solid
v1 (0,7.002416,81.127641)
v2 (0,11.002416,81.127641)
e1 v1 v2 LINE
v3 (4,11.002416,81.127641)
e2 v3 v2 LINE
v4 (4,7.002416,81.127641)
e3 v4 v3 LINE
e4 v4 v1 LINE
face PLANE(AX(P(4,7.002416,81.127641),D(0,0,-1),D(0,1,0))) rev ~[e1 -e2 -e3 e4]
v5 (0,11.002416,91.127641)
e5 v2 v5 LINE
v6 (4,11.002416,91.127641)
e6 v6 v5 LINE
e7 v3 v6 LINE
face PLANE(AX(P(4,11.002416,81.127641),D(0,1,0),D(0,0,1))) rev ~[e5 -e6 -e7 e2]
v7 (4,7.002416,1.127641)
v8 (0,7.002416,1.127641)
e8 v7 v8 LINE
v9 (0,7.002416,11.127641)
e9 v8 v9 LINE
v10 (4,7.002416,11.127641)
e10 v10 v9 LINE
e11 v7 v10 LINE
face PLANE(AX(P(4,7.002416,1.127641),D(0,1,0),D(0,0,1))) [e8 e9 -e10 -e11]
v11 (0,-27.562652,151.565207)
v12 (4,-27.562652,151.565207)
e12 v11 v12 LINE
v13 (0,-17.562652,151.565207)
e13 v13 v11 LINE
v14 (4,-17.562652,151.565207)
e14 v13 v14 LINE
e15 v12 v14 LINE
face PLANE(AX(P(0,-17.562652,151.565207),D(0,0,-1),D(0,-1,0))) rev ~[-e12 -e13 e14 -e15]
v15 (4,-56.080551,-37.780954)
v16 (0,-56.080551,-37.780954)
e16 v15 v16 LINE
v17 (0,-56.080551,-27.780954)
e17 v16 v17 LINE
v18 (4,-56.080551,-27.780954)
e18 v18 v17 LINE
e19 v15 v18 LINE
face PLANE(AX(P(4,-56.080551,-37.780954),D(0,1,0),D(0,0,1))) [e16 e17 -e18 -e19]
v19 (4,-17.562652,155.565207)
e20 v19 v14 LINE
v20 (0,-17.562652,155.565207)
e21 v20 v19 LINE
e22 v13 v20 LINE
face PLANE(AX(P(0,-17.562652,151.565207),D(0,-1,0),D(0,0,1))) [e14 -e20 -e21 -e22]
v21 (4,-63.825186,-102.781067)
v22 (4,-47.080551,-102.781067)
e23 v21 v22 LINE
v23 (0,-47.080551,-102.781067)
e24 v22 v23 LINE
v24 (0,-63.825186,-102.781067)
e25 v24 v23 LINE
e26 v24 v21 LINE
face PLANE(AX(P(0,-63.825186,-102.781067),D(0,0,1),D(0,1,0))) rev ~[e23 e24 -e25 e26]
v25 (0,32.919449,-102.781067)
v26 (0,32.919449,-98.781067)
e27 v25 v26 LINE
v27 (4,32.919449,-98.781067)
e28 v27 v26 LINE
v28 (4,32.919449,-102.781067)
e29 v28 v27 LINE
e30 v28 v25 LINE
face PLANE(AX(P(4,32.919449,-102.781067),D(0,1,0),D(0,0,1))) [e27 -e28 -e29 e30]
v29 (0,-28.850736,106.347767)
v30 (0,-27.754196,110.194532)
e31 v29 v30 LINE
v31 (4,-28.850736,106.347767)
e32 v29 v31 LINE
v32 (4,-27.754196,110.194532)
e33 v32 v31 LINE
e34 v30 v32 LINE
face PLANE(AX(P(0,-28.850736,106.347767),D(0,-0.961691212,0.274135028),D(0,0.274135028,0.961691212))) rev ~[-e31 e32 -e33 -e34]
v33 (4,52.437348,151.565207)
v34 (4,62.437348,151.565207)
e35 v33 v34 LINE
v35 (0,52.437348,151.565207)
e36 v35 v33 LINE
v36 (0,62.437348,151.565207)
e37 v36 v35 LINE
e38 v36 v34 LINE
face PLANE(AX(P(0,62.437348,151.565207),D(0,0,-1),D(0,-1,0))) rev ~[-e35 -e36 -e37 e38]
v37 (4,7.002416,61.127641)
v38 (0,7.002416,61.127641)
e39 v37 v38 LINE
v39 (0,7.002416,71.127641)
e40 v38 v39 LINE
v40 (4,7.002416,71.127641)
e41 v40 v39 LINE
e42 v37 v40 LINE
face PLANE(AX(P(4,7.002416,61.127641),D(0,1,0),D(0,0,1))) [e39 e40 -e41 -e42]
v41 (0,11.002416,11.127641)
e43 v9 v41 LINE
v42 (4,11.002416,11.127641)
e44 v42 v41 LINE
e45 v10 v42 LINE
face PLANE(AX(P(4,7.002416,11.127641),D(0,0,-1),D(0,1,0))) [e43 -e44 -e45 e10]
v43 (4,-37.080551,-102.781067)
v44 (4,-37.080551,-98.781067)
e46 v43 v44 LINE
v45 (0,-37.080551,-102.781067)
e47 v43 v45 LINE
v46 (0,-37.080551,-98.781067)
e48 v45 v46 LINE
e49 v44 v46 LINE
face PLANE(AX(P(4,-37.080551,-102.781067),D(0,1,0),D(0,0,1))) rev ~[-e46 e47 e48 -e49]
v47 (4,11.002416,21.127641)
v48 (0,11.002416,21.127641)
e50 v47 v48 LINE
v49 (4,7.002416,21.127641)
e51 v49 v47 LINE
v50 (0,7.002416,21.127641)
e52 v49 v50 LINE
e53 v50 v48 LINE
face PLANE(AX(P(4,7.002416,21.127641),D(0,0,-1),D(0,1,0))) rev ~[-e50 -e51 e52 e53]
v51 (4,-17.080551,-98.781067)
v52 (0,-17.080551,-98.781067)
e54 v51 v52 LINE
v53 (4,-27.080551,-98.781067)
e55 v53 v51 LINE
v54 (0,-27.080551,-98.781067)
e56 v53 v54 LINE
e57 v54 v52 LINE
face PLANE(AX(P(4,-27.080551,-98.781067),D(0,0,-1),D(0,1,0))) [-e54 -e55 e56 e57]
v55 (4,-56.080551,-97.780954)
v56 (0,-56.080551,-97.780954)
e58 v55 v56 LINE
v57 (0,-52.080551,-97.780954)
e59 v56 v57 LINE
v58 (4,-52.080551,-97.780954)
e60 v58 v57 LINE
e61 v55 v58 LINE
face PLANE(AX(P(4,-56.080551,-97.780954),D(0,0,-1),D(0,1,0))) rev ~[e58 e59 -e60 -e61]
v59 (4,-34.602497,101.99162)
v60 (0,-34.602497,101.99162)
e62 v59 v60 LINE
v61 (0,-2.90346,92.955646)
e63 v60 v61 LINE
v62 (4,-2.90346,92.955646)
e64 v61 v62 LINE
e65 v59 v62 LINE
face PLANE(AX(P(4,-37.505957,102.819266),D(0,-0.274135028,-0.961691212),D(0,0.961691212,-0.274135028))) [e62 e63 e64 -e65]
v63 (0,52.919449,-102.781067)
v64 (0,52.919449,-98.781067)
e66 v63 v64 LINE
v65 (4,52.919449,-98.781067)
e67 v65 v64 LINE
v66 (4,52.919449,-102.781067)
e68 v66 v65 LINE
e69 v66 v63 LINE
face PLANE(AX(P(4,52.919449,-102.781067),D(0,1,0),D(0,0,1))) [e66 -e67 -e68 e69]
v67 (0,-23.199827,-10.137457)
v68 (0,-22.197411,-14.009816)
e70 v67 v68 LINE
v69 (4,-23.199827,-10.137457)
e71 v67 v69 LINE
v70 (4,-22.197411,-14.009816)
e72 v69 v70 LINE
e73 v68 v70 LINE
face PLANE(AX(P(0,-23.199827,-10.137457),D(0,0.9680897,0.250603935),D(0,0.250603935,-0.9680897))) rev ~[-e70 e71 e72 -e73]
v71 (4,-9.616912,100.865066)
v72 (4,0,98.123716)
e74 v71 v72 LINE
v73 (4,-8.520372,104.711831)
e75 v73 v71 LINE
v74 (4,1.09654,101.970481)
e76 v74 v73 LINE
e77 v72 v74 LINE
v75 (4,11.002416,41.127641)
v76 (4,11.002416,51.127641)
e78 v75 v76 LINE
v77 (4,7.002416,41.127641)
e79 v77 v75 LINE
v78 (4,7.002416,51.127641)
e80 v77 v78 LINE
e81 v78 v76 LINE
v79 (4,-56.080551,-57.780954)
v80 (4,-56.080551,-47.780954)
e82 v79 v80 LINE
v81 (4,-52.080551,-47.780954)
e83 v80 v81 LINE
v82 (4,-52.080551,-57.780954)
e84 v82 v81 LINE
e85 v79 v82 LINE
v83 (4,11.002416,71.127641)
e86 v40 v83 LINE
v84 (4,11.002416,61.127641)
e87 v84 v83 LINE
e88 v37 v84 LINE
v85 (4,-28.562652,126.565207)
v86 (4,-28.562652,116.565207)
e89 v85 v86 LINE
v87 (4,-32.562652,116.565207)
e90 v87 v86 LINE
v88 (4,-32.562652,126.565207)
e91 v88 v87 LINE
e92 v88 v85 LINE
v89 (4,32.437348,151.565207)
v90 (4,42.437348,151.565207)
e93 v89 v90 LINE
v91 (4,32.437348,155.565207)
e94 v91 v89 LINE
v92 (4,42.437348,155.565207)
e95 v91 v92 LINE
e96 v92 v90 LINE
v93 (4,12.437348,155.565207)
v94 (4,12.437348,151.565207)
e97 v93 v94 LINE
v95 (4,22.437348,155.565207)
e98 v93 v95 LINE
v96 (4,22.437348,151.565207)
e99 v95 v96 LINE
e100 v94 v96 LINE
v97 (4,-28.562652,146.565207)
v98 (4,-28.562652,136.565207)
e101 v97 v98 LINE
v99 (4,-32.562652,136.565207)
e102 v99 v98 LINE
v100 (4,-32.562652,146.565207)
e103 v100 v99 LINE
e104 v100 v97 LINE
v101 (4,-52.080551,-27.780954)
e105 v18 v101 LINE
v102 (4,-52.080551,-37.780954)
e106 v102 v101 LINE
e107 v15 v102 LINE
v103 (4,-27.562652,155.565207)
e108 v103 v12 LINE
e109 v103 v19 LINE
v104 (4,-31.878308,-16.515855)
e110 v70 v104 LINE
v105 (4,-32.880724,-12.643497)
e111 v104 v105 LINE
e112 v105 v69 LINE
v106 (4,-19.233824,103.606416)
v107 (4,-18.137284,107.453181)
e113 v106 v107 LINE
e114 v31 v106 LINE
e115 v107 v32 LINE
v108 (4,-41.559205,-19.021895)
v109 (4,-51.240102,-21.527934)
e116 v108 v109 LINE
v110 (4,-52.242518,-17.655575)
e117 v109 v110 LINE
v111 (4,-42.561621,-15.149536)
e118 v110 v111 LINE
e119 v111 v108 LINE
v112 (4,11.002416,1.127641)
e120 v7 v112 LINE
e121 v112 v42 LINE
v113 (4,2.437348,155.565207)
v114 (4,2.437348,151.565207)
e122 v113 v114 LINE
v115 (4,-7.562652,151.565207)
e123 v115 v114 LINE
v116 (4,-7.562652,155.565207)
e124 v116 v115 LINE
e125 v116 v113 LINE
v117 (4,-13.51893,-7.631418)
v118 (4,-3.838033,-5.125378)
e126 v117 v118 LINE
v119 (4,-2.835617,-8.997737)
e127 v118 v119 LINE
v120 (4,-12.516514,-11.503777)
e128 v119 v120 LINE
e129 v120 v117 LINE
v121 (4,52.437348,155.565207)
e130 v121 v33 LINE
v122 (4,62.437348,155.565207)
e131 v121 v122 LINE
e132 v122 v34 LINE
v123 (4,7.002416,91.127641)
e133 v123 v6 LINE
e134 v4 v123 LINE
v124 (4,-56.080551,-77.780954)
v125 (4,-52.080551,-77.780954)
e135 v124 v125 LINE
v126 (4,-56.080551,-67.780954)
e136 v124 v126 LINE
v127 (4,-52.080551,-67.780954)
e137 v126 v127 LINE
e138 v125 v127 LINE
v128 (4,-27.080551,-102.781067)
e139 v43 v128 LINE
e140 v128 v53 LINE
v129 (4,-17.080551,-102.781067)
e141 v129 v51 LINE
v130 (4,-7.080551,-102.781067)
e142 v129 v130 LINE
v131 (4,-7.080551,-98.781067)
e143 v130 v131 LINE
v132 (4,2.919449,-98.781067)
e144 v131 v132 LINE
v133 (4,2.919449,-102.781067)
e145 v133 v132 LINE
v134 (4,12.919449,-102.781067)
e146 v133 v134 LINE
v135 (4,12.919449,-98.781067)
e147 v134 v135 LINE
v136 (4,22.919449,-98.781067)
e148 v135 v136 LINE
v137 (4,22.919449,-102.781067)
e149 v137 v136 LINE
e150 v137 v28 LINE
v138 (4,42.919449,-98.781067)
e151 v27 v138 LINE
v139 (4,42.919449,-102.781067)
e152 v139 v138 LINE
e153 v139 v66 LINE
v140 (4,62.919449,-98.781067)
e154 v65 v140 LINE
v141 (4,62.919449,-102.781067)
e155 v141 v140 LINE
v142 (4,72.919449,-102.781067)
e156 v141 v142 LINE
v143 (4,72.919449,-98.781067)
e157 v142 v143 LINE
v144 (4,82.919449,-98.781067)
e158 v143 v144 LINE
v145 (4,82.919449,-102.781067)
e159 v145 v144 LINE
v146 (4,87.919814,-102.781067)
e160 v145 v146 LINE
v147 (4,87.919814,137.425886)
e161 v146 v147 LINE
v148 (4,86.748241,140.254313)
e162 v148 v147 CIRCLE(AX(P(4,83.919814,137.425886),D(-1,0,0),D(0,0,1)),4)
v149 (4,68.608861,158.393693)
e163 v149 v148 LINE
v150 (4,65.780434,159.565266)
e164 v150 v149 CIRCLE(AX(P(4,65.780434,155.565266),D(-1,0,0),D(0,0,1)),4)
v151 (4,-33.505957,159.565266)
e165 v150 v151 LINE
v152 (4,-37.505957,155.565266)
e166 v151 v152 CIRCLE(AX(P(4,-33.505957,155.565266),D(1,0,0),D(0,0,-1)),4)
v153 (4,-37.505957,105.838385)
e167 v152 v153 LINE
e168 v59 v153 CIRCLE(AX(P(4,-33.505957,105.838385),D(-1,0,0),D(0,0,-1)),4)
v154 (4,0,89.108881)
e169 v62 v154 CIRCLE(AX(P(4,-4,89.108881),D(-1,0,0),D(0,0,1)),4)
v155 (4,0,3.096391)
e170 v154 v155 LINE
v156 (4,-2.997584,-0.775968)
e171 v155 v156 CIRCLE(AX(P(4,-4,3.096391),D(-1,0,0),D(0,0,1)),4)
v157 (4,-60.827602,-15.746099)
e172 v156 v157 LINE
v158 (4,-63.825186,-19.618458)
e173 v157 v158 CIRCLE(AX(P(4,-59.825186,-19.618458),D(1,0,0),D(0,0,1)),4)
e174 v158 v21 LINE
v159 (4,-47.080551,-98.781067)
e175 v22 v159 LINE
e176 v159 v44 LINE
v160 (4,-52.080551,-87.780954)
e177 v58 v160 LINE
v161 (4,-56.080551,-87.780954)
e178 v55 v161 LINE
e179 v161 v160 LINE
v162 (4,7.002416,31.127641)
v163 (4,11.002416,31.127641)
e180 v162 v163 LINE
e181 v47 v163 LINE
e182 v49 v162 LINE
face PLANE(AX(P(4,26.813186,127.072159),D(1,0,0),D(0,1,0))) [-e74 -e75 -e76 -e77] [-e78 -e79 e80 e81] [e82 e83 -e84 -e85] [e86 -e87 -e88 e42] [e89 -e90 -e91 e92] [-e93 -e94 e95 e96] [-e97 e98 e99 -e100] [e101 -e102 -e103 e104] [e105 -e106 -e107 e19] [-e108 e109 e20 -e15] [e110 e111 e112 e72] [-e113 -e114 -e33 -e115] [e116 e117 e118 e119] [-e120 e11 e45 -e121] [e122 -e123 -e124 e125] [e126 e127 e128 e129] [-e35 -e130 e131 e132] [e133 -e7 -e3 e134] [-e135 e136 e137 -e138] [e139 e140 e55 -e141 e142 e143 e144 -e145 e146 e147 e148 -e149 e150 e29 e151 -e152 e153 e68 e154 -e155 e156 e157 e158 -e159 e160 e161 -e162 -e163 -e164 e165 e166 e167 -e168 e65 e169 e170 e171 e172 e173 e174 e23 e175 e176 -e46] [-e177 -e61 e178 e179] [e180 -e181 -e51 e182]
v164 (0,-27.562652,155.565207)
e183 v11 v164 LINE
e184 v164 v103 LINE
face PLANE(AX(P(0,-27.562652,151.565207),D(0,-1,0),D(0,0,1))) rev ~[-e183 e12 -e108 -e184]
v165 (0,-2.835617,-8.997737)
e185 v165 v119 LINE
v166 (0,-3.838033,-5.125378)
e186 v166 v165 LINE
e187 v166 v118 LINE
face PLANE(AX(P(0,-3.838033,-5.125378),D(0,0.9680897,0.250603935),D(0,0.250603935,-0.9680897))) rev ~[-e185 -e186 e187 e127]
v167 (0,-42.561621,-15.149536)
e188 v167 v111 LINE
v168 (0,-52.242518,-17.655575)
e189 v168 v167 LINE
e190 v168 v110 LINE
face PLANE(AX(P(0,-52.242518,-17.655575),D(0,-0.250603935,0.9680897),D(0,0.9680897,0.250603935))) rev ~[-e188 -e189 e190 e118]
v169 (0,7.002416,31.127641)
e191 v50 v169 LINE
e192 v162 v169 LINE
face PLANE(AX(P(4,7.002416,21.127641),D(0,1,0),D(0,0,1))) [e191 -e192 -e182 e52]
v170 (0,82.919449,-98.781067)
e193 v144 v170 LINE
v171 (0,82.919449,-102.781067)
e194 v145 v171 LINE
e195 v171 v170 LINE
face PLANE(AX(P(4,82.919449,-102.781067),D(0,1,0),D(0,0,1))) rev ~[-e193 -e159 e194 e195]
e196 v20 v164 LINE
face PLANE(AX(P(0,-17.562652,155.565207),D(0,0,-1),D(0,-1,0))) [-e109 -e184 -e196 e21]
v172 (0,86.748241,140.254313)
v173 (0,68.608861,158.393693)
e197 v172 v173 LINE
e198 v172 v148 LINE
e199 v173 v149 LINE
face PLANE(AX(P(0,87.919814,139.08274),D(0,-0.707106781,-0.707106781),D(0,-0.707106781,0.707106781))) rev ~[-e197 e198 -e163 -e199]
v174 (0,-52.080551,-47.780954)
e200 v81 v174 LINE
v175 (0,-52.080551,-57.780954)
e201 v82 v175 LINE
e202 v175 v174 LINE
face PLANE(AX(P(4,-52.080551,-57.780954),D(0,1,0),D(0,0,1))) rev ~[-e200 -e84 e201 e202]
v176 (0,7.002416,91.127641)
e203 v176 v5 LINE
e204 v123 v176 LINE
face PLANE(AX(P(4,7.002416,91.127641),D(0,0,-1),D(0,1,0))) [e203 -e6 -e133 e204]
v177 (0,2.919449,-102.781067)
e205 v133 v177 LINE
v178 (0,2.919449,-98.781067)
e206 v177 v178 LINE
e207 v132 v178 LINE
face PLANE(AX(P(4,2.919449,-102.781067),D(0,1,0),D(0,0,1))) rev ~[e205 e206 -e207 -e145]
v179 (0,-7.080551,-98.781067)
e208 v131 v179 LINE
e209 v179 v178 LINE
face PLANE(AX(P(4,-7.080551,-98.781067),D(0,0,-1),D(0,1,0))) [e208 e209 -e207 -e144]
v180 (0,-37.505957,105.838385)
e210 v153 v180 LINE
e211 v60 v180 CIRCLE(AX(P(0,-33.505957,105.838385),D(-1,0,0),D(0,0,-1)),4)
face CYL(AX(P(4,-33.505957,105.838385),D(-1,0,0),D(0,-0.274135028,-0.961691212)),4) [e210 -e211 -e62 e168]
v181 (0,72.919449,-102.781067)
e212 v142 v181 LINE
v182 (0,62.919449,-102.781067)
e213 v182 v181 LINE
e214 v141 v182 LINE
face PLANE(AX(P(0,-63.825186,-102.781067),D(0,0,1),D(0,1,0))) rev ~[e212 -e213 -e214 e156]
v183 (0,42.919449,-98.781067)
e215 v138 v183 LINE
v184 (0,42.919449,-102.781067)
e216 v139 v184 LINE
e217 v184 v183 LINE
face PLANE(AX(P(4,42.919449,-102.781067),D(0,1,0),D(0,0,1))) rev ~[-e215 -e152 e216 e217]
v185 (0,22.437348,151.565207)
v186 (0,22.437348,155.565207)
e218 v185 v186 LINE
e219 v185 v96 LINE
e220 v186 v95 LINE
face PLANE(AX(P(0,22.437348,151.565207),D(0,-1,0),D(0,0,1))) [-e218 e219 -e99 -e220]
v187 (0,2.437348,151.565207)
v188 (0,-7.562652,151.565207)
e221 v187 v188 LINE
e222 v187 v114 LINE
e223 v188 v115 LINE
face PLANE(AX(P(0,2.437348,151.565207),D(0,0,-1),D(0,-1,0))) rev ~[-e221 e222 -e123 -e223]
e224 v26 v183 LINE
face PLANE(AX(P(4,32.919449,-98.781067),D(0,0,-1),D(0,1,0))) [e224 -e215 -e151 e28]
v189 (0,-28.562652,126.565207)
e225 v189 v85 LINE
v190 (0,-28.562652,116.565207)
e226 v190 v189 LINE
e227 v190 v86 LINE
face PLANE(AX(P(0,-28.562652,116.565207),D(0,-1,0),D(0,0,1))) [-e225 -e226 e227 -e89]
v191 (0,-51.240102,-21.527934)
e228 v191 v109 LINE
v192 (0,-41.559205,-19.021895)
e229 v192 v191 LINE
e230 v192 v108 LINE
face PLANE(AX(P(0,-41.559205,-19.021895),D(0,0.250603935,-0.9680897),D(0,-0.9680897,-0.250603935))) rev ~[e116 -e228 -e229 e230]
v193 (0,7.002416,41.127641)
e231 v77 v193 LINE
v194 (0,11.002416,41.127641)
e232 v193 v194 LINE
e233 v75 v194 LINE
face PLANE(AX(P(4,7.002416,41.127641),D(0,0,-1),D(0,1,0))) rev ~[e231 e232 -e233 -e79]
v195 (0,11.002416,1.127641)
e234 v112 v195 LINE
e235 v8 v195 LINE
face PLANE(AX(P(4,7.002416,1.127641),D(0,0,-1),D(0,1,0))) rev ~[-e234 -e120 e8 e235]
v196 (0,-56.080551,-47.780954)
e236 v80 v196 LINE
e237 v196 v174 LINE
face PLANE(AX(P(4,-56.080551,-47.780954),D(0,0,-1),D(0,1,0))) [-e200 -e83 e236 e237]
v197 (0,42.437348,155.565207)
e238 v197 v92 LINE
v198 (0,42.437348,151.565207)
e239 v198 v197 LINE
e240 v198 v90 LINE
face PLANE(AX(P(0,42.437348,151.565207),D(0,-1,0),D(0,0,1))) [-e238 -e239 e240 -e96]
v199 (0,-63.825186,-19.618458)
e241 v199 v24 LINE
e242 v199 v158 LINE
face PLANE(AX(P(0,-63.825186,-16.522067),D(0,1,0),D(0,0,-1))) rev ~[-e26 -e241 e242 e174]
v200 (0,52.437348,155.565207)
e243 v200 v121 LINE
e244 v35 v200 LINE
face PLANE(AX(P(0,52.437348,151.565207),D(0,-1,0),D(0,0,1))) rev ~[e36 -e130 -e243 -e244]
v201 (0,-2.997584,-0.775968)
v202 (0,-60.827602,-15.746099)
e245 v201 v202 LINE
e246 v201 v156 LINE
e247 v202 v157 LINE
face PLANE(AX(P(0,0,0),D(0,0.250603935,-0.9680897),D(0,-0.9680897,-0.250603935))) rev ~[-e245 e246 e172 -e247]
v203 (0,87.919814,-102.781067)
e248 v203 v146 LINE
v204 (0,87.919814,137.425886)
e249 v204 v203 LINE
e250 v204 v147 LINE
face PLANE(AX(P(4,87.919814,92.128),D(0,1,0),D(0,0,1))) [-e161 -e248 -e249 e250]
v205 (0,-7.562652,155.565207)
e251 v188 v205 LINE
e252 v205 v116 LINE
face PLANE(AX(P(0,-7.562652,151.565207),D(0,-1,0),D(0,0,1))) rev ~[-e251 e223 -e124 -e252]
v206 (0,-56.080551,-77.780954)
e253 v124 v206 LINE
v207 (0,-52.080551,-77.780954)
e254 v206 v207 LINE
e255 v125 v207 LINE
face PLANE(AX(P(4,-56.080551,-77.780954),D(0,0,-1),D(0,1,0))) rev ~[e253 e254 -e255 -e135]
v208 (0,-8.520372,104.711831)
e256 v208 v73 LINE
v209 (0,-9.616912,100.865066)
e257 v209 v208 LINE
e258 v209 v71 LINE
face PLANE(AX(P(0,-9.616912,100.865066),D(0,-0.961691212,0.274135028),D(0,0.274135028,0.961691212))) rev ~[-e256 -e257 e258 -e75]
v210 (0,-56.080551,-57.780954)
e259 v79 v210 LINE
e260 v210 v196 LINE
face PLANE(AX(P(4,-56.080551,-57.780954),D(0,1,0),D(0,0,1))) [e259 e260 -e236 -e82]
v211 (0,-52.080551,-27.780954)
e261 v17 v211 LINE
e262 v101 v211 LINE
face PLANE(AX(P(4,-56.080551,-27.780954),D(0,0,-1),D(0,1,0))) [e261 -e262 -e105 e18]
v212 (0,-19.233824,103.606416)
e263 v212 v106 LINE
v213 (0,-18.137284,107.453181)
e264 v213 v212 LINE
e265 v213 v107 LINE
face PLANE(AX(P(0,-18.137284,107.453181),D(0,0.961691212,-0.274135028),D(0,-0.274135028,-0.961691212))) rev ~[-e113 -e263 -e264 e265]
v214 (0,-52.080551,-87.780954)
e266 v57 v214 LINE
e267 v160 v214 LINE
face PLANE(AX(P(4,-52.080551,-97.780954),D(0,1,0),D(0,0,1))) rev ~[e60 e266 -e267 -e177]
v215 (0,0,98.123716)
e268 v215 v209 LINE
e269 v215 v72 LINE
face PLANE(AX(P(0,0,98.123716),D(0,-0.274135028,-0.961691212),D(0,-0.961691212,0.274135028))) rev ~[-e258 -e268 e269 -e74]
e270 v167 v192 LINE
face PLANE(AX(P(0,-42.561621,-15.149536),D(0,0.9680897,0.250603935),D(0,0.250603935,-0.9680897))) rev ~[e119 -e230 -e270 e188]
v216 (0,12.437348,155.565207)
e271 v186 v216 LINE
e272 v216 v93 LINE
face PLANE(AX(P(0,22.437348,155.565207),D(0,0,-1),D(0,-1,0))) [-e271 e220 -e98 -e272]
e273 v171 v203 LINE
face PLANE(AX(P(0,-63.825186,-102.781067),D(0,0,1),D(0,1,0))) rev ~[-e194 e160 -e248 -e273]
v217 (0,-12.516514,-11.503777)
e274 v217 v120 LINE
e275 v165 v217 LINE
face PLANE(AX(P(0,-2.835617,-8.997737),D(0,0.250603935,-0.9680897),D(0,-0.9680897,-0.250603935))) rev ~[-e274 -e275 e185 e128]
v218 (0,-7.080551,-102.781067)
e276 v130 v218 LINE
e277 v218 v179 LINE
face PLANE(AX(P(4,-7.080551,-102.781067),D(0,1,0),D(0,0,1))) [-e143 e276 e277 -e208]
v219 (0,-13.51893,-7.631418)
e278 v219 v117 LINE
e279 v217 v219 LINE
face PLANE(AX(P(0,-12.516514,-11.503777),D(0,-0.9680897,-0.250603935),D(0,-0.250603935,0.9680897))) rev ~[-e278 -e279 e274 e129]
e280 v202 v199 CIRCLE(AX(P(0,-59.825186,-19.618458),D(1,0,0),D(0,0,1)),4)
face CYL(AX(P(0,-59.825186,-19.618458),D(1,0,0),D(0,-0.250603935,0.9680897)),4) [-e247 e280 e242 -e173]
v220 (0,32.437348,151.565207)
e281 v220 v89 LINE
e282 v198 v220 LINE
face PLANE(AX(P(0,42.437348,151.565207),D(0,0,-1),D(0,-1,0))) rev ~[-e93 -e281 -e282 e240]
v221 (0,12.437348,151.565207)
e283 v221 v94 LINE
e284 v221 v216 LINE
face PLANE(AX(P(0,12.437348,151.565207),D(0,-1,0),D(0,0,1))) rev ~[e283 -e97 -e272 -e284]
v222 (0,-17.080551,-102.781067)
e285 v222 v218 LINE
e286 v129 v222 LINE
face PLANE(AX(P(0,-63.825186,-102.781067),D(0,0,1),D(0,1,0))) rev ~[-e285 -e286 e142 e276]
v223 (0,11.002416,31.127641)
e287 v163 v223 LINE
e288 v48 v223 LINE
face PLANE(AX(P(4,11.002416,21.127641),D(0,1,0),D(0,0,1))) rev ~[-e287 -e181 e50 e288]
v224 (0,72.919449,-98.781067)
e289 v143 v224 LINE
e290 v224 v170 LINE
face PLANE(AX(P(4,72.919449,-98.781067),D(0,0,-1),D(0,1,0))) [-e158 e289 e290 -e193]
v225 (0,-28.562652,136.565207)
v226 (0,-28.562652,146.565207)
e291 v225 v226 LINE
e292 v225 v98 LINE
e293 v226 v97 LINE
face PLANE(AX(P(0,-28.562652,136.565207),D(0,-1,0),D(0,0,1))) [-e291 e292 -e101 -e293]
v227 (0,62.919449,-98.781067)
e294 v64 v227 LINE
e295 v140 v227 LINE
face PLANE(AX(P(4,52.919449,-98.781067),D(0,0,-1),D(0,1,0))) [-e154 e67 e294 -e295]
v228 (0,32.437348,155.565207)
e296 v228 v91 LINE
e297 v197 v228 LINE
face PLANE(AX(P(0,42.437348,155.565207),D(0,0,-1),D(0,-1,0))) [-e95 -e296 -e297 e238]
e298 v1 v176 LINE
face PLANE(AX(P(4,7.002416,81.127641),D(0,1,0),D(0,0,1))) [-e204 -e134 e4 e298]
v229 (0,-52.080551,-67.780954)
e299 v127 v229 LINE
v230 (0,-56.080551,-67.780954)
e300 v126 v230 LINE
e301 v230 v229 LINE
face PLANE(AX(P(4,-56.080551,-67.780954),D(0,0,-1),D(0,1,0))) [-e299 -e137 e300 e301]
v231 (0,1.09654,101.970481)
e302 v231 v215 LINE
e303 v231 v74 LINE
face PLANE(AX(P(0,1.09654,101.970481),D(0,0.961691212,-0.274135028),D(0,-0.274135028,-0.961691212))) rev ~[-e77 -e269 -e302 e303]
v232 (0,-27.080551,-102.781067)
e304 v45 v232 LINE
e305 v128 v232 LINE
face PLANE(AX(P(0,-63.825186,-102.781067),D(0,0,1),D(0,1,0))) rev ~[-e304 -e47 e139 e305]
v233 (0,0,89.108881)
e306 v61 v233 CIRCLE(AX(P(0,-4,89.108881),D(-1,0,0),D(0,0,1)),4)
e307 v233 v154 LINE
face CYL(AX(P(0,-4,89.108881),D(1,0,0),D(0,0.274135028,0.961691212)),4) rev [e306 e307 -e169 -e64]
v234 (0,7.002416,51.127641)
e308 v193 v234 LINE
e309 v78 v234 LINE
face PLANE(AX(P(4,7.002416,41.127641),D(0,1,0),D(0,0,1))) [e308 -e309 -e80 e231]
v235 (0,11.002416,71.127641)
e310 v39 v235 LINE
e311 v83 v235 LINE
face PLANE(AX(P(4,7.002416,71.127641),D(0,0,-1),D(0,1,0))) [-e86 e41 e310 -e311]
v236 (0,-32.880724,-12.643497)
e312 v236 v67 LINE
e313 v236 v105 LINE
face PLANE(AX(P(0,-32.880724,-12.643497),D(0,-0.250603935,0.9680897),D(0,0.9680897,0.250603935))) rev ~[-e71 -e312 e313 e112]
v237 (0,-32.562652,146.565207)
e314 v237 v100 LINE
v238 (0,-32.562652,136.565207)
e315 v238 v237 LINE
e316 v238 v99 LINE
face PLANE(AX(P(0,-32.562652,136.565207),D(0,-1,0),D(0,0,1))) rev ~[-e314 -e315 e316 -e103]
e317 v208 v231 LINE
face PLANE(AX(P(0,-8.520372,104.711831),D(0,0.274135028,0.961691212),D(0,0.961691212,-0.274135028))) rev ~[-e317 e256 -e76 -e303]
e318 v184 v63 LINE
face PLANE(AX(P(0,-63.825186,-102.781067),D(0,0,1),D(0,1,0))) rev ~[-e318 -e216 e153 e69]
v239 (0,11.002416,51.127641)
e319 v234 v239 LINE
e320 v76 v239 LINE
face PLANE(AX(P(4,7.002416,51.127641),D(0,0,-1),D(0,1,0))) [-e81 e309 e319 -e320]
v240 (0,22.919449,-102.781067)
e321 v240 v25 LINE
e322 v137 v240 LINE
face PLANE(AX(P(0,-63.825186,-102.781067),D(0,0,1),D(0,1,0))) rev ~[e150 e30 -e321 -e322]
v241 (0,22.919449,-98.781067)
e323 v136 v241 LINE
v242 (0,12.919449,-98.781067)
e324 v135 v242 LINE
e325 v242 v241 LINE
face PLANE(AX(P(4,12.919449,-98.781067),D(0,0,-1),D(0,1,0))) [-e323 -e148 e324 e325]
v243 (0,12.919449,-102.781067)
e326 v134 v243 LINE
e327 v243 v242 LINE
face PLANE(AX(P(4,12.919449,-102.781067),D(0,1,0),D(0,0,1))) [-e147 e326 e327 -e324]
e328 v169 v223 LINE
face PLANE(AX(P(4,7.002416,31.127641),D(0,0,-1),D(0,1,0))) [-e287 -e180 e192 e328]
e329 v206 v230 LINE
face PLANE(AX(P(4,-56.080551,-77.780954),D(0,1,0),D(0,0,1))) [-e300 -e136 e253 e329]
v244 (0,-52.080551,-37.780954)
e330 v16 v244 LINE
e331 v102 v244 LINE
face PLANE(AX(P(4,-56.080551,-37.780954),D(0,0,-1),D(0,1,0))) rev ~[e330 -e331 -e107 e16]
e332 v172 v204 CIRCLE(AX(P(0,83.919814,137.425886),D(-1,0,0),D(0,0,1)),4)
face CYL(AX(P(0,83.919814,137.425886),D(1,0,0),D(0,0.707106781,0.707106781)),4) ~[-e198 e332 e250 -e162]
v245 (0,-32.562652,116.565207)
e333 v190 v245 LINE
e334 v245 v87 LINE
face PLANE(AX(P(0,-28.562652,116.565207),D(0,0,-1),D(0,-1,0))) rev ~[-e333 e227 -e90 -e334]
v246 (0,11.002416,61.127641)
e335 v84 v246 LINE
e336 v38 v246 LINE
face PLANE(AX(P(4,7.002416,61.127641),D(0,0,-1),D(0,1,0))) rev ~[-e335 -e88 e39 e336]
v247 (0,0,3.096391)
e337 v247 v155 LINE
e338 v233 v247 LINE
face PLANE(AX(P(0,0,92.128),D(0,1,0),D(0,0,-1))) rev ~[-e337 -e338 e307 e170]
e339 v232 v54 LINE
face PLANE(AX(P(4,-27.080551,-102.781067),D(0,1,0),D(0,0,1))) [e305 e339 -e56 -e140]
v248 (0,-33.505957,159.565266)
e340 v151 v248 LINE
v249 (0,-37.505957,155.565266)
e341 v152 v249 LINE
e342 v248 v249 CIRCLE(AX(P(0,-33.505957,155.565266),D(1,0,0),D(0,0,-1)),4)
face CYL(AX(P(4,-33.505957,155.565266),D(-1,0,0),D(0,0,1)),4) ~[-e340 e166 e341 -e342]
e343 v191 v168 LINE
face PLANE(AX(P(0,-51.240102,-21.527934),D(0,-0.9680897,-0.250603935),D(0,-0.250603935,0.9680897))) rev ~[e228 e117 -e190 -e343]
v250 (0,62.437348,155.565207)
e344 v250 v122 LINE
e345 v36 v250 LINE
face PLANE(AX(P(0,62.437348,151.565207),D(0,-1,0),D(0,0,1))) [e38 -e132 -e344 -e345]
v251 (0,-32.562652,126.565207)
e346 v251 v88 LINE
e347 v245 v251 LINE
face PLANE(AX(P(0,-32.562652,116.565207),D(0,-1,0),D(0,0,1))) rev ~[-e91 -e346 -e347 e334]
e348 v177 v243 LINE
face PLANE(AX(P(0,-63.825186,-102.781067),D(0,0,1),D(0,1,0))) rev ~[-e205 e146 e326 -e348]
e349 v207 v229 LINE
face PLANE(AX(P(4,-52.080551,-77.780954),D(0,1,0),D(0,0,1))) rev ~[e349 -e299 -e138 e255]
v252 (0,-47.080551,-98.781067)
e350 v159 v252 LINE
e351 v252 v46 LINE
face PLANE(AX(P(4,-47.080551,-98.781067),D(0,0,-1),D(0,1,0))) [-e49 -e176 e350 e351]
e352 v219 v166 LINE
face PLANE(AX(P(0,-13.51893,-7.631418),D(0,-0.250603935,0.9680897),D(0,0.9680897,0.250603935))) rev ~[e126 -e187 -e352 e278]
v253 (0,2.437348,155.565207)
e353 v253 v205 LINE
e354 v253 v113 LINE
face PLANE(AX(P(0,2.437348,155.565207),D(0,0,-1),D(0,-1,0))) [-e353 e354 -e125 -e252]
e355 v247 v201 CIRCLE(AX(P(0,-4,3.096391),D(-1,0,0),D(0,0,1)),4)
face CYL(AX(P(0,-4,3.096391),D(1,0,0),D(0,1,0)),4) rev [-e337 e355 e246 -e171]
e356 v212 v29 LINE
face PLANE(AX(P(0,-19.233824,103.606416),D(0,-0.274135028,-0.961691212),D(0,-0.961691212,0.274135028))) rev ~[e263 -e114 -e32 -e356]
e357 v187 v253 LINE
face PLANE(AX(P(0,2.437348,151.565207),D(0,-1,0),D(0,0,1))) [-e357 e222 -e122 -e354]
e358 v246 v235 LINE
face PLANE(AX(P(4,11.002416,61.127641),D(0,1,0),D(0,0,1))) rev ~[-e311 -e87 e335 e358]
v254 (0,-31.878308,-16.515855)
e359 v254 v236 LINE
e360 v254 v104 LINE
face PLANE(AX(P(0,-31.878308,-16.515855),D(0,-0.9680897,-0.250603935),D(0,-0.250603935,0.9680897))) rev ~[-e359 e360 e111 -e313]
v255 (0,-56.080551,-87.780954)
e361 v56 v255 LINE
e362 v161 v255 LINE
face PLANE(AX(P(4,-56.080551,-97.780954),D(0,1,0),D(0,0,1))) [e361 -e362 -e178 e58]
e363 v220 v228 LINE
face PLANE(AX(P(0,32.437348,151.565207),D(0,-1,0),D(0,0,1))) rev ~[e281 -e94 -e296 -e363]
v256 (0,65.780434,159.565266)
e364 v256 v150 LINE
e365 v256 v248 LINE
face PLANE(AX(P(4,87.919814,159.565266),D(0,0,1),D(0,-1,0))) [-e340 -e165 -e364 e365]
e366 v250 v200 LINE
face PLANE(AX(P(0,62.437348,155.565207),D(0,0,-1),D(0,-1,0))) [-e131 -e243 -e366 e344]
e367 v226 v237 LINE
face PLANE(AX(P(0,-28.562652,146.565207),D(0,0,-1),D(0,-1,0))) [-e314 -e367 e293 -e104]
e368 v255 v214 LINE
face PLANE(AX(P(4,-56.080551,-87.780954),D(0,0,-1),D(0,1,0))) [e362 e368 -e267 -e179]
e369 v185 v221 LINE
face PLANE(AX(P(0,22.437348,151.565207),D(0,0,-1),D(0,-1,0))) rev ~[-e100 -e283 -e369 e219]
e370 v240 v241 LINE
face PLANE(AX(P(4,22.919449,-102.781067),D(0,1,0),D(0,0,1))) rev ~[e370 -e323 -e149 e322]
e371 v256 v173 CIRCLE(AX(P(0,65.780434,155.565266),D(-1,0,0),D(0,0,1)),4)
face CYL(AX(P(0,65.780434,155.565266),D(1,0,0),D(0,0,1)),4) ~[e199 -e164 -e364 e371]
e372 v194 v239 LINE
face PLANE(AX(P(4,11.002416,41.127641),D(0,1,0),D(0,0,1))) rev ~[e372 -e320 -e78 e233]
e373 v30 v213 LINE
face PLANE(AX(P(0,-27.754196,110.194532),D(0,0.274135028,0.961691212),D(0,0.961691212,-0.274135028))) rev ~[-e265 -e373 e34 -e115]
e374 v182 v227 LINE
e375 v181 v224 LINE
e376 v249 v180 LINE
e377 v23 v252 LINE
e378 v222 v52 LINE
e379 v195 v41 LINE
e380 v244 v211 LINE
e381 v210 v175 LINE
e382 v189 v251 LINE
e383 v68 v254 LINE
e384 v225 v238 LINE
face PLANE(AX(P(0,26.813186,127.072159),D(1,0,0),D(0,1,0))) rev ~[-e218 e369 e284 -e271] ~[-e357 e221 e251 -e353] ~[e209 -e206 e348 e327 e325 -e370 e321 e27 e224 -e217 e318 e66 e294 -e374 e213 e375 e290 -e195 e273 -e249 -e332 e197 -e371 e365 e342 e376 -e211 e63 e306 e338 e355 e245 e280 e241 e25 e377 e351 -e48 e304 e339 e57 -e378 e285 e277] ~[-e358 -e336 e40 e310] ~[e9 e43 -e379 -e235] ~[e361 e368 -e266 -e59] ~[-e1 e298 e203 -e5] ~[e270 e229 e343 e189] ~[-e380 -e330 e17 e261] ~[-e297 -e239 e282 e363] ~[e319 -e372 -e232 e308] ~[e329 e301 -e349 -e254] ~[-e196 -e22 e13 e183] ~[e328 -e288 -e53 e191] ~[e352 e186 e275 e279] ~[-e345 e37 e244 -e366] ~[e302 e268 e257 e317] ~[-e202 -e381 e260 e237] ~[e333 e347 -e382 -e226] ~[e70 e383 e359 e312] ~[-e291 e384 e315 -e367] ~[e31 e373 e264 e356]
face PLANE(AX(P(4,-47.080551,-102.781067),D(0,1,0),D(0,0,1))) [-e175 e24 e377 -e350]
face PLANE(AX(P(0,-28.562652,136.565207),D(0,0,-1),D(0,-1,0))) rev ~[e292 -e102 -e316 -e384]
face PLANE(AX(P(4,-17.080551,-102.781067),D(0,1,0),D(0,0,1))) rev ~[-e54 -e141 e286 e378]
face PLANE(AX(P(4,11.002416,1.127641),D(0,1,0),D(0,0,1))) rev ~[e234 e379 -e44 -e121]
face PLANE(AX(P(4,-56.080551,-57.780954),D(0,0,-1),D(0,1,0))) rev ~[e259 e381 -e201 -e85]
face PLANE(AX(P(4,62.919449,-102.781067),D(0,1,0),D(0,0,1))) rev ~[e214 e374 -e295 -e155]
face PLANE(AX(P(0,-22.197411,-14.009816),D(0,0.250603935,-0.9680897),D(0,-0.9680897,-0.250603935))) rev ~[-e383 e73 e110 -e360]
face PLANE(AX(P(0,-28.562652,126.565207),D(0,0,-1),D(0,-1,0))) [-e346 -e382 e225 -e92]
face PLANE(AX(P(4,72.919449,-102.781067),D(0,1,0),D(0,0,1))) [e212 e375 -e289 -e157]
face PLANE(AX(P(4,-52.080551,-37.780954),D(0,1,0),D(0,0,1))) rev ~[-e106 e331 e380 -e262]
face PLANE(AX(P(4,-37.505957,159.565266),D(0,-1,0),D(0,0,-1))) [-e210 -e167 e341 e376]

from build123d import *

# Parameters (mm, degrees)
F1_DEPTH  = 4
F2_R      = 4
F3_W      = 4
F3_H      = 10
F4_DEPTH  = 4
F5_W      = 4
F5_H      = 10
F5_W_2    = 10
F5_H_2    = 4
F6_DEPTH  = 4
F8_DEPTH  = 4
F9_R      = 4
F10_W     = 10
F10_H     = 4
F10_W_2   = 4
F10_H_2   = 10
F11_DEPTH = 25
F12_R     = 4


with BuildPart() as f1:
    # F0 (on Right) → F1 (new body)
    with BuildSketch(Plane.YZ):
        Polygon((0, 92.128), (0, 0), (-63.825185854, -16.522066811), (-63.825185854, -102.781066811), (87.919814146, -102.781066811), (87.919814146, 92.128), align=None)
        Polygon((-52.2425177801, -17.65557521), (-42.5616207767, -15.149535863), (-41.5592050378, -19.0218946644), (-51.2401020413, -21.5279340114), align=None, mode=Mode.SUBTRACT)
        Polygon((-32.8807237732, -12.643496516), (-23.1998267698, -10.1374571689), (-22.197411031, -14.0098159703), (-31.8783080344, -16.5158553174), align=None, mode=Mode.SUBTRACT)
        Polygon((-13.5189297663, -7.6314178219), (-3.8380327629, -5.1253784749), (-2.8356170241, -8.9977372763), (-12.5165140275, -11.5037766233), align=None, mode=Mode.SUBTRACT)
    extrude(amount=F1_DEPTH)

    # F2
    f2_edges = [f1.edges().sort_by_distance(p)[0] for p in [
        (2, -63.825186, -16.522067),
    ]]
    fillet(f2_edges, radius=F2_R)

    # F3 (on face) → F4 (cut)
    with BuildSketch(Plane.YZ.offset(4)):
        with Locations((9.0024157388, 86.1276411986)):
            Rectangle(F3_W, F3_H)
        with Locations((9.0024157388, 66.1276411986)):
            Rectangle(F3_W, F3_H)
        with Locations((9.0024157388, 46.1276411986)):
            Rectangle(F3_W, F3_H)
        with Locations((9.0024157388, 26.1276411986)):
            Rectangle(F3_W, F3_H)
        with Locations((9.0024157388, 6.1276411986)):
            Rectangle(F3_W, F3_H)
    extrude(amount=-F4_DEPTH, mode=Mode.SUBTRACT)

    # F5 (on face) → F6 (cut)
    with BuildSketch(Plane.YZ.offset(4)):
        with Locations((-54.080550543, -32.7809536849)):
            Rectangle(F5_W, F5_H)
        with Locations((-54.080550543, -52.7809536849)):
            Rectangle(F5_W, F5_H)
        with Locations((-54.080550543, -72.7809536849)):
            Rectangle(F5_W, F5_H)
        with Locations((-54.080550543, -92.7809536849)):
            Rectangle(F5_W, F5_H)
        with Locations((-2.080550543, -100.781066811)):
            Rectangle(F5_W_2, F5_H_2)
        with Locations((17.919449457, -100.781066811)):
            Rectangle(F5_W_2, F5_H_2)
        with Locations((37.919449457, -100.781066811)):
            Rectangle(F5_W_2, F5_H_2)
        with Locations((-22.080550543, -100.781066811)):
            Rectangle(F5_W_2, F5_H_2)
        with Locations((-42.080550543, -100.781066811)):
            Rectangle(F5_W_2, F5_H_2)
        with Locations((57.919449457, -100.781066811)):
            Rectangle(F5_W_2, F5_H_2)
        with Locations((77.919449457, -100.781066811)):
            Rectangle(F5_W_2, F5_H_2)
    extrude(amount=-F6_DEPTH, mode=Mode.SUBTRACT)

    # F7 (on face) → F8 (join)
    with BuildSketch(Plane.YZ.offset(4)):
        Polygon((-37.5059572495, 102.8192660989), (0, 92.128), (87.919814146, 92.128), (87.919814146, 159.5652660989), (-37.5059572495, 159.5652660989), align=None)
    extrude(amount=-F8_DEPTH)

    # F9
    f9_edges = [f1.edges().sort_by_distance(p)[0] for p in [
        (2, -37.505957, 159.565266),
        (2, 87.919814, 159.565266),
        (2, -37.505957, 102.819266),
    ]]
    fillet(f9_edges, radius=F9_R)

    # F10 (on face) → F11 (cut)
    with BuildSketch(Plane(origin=(0, 0, 0), x_dir=(0, -1, 0), z_dir=(-1, 0, 0))):
        Polygon((-1.0965401127, 101.9704806816), (0, 98.1237158355), (9.6169121153, 100.8650661173), (8.5203720026, 104.7118309634), align=None)
        with Locations((22.5626522907, 153.5652066678)):
            Rectangle(F10_W, F10_H)
        with Locations((30.5626522907, 141.5652066678)):
            Rectangle(F10_W_2, F10_H_2)
        with Locations((30.5626522907, 121.5652066678)):
            Rectangle(F10_W_2, F10_H_2)
        Polygon((18.1372841178, 107.4531812452), (19.2338242305, 103.6064163991), (28.8507363458, 106.3477666808), (27.7541962331, 110.1945315269), align=None)
        with Locations((2.5626522907, 153.5652066678)):
            Rectangle(F10_W, F10_H)
        with Locations((-17.4373477093, 153.5652066678)):
            Rectangle(F10_W, F10_H)
        with Locations((-37.4373477093, 153.5652066678)):
            Rectangle(F10_W, F10_H)
        Polygon((-80.7050293604, 146.2975250167), (-71.4373477093, 155.5652066678), (-67.4372882782, 159.5652660989), (-87.919814146, 159.5652660989), (-87.919814146, 139.0827402311), align=None)
        with Locations((-57.4373477093, 153.5652066678)):
            Rectangle(F10_W, F10_H)
    extrude(amount=-F11_DEPTH, mode=Mode.SUBTRACT)

    # F12
    f12_edges = [f1.edges().sort_by_distance(p)[0] for p in [
        (2, 67.437288, 159.565266),
        (2, 87.919814, 139.08274),
        (2, 0, 92.128),
        (2, 0, 0),
    ]]
    fillet(f12_edges, radius=F12_R)


solid = f1.part
